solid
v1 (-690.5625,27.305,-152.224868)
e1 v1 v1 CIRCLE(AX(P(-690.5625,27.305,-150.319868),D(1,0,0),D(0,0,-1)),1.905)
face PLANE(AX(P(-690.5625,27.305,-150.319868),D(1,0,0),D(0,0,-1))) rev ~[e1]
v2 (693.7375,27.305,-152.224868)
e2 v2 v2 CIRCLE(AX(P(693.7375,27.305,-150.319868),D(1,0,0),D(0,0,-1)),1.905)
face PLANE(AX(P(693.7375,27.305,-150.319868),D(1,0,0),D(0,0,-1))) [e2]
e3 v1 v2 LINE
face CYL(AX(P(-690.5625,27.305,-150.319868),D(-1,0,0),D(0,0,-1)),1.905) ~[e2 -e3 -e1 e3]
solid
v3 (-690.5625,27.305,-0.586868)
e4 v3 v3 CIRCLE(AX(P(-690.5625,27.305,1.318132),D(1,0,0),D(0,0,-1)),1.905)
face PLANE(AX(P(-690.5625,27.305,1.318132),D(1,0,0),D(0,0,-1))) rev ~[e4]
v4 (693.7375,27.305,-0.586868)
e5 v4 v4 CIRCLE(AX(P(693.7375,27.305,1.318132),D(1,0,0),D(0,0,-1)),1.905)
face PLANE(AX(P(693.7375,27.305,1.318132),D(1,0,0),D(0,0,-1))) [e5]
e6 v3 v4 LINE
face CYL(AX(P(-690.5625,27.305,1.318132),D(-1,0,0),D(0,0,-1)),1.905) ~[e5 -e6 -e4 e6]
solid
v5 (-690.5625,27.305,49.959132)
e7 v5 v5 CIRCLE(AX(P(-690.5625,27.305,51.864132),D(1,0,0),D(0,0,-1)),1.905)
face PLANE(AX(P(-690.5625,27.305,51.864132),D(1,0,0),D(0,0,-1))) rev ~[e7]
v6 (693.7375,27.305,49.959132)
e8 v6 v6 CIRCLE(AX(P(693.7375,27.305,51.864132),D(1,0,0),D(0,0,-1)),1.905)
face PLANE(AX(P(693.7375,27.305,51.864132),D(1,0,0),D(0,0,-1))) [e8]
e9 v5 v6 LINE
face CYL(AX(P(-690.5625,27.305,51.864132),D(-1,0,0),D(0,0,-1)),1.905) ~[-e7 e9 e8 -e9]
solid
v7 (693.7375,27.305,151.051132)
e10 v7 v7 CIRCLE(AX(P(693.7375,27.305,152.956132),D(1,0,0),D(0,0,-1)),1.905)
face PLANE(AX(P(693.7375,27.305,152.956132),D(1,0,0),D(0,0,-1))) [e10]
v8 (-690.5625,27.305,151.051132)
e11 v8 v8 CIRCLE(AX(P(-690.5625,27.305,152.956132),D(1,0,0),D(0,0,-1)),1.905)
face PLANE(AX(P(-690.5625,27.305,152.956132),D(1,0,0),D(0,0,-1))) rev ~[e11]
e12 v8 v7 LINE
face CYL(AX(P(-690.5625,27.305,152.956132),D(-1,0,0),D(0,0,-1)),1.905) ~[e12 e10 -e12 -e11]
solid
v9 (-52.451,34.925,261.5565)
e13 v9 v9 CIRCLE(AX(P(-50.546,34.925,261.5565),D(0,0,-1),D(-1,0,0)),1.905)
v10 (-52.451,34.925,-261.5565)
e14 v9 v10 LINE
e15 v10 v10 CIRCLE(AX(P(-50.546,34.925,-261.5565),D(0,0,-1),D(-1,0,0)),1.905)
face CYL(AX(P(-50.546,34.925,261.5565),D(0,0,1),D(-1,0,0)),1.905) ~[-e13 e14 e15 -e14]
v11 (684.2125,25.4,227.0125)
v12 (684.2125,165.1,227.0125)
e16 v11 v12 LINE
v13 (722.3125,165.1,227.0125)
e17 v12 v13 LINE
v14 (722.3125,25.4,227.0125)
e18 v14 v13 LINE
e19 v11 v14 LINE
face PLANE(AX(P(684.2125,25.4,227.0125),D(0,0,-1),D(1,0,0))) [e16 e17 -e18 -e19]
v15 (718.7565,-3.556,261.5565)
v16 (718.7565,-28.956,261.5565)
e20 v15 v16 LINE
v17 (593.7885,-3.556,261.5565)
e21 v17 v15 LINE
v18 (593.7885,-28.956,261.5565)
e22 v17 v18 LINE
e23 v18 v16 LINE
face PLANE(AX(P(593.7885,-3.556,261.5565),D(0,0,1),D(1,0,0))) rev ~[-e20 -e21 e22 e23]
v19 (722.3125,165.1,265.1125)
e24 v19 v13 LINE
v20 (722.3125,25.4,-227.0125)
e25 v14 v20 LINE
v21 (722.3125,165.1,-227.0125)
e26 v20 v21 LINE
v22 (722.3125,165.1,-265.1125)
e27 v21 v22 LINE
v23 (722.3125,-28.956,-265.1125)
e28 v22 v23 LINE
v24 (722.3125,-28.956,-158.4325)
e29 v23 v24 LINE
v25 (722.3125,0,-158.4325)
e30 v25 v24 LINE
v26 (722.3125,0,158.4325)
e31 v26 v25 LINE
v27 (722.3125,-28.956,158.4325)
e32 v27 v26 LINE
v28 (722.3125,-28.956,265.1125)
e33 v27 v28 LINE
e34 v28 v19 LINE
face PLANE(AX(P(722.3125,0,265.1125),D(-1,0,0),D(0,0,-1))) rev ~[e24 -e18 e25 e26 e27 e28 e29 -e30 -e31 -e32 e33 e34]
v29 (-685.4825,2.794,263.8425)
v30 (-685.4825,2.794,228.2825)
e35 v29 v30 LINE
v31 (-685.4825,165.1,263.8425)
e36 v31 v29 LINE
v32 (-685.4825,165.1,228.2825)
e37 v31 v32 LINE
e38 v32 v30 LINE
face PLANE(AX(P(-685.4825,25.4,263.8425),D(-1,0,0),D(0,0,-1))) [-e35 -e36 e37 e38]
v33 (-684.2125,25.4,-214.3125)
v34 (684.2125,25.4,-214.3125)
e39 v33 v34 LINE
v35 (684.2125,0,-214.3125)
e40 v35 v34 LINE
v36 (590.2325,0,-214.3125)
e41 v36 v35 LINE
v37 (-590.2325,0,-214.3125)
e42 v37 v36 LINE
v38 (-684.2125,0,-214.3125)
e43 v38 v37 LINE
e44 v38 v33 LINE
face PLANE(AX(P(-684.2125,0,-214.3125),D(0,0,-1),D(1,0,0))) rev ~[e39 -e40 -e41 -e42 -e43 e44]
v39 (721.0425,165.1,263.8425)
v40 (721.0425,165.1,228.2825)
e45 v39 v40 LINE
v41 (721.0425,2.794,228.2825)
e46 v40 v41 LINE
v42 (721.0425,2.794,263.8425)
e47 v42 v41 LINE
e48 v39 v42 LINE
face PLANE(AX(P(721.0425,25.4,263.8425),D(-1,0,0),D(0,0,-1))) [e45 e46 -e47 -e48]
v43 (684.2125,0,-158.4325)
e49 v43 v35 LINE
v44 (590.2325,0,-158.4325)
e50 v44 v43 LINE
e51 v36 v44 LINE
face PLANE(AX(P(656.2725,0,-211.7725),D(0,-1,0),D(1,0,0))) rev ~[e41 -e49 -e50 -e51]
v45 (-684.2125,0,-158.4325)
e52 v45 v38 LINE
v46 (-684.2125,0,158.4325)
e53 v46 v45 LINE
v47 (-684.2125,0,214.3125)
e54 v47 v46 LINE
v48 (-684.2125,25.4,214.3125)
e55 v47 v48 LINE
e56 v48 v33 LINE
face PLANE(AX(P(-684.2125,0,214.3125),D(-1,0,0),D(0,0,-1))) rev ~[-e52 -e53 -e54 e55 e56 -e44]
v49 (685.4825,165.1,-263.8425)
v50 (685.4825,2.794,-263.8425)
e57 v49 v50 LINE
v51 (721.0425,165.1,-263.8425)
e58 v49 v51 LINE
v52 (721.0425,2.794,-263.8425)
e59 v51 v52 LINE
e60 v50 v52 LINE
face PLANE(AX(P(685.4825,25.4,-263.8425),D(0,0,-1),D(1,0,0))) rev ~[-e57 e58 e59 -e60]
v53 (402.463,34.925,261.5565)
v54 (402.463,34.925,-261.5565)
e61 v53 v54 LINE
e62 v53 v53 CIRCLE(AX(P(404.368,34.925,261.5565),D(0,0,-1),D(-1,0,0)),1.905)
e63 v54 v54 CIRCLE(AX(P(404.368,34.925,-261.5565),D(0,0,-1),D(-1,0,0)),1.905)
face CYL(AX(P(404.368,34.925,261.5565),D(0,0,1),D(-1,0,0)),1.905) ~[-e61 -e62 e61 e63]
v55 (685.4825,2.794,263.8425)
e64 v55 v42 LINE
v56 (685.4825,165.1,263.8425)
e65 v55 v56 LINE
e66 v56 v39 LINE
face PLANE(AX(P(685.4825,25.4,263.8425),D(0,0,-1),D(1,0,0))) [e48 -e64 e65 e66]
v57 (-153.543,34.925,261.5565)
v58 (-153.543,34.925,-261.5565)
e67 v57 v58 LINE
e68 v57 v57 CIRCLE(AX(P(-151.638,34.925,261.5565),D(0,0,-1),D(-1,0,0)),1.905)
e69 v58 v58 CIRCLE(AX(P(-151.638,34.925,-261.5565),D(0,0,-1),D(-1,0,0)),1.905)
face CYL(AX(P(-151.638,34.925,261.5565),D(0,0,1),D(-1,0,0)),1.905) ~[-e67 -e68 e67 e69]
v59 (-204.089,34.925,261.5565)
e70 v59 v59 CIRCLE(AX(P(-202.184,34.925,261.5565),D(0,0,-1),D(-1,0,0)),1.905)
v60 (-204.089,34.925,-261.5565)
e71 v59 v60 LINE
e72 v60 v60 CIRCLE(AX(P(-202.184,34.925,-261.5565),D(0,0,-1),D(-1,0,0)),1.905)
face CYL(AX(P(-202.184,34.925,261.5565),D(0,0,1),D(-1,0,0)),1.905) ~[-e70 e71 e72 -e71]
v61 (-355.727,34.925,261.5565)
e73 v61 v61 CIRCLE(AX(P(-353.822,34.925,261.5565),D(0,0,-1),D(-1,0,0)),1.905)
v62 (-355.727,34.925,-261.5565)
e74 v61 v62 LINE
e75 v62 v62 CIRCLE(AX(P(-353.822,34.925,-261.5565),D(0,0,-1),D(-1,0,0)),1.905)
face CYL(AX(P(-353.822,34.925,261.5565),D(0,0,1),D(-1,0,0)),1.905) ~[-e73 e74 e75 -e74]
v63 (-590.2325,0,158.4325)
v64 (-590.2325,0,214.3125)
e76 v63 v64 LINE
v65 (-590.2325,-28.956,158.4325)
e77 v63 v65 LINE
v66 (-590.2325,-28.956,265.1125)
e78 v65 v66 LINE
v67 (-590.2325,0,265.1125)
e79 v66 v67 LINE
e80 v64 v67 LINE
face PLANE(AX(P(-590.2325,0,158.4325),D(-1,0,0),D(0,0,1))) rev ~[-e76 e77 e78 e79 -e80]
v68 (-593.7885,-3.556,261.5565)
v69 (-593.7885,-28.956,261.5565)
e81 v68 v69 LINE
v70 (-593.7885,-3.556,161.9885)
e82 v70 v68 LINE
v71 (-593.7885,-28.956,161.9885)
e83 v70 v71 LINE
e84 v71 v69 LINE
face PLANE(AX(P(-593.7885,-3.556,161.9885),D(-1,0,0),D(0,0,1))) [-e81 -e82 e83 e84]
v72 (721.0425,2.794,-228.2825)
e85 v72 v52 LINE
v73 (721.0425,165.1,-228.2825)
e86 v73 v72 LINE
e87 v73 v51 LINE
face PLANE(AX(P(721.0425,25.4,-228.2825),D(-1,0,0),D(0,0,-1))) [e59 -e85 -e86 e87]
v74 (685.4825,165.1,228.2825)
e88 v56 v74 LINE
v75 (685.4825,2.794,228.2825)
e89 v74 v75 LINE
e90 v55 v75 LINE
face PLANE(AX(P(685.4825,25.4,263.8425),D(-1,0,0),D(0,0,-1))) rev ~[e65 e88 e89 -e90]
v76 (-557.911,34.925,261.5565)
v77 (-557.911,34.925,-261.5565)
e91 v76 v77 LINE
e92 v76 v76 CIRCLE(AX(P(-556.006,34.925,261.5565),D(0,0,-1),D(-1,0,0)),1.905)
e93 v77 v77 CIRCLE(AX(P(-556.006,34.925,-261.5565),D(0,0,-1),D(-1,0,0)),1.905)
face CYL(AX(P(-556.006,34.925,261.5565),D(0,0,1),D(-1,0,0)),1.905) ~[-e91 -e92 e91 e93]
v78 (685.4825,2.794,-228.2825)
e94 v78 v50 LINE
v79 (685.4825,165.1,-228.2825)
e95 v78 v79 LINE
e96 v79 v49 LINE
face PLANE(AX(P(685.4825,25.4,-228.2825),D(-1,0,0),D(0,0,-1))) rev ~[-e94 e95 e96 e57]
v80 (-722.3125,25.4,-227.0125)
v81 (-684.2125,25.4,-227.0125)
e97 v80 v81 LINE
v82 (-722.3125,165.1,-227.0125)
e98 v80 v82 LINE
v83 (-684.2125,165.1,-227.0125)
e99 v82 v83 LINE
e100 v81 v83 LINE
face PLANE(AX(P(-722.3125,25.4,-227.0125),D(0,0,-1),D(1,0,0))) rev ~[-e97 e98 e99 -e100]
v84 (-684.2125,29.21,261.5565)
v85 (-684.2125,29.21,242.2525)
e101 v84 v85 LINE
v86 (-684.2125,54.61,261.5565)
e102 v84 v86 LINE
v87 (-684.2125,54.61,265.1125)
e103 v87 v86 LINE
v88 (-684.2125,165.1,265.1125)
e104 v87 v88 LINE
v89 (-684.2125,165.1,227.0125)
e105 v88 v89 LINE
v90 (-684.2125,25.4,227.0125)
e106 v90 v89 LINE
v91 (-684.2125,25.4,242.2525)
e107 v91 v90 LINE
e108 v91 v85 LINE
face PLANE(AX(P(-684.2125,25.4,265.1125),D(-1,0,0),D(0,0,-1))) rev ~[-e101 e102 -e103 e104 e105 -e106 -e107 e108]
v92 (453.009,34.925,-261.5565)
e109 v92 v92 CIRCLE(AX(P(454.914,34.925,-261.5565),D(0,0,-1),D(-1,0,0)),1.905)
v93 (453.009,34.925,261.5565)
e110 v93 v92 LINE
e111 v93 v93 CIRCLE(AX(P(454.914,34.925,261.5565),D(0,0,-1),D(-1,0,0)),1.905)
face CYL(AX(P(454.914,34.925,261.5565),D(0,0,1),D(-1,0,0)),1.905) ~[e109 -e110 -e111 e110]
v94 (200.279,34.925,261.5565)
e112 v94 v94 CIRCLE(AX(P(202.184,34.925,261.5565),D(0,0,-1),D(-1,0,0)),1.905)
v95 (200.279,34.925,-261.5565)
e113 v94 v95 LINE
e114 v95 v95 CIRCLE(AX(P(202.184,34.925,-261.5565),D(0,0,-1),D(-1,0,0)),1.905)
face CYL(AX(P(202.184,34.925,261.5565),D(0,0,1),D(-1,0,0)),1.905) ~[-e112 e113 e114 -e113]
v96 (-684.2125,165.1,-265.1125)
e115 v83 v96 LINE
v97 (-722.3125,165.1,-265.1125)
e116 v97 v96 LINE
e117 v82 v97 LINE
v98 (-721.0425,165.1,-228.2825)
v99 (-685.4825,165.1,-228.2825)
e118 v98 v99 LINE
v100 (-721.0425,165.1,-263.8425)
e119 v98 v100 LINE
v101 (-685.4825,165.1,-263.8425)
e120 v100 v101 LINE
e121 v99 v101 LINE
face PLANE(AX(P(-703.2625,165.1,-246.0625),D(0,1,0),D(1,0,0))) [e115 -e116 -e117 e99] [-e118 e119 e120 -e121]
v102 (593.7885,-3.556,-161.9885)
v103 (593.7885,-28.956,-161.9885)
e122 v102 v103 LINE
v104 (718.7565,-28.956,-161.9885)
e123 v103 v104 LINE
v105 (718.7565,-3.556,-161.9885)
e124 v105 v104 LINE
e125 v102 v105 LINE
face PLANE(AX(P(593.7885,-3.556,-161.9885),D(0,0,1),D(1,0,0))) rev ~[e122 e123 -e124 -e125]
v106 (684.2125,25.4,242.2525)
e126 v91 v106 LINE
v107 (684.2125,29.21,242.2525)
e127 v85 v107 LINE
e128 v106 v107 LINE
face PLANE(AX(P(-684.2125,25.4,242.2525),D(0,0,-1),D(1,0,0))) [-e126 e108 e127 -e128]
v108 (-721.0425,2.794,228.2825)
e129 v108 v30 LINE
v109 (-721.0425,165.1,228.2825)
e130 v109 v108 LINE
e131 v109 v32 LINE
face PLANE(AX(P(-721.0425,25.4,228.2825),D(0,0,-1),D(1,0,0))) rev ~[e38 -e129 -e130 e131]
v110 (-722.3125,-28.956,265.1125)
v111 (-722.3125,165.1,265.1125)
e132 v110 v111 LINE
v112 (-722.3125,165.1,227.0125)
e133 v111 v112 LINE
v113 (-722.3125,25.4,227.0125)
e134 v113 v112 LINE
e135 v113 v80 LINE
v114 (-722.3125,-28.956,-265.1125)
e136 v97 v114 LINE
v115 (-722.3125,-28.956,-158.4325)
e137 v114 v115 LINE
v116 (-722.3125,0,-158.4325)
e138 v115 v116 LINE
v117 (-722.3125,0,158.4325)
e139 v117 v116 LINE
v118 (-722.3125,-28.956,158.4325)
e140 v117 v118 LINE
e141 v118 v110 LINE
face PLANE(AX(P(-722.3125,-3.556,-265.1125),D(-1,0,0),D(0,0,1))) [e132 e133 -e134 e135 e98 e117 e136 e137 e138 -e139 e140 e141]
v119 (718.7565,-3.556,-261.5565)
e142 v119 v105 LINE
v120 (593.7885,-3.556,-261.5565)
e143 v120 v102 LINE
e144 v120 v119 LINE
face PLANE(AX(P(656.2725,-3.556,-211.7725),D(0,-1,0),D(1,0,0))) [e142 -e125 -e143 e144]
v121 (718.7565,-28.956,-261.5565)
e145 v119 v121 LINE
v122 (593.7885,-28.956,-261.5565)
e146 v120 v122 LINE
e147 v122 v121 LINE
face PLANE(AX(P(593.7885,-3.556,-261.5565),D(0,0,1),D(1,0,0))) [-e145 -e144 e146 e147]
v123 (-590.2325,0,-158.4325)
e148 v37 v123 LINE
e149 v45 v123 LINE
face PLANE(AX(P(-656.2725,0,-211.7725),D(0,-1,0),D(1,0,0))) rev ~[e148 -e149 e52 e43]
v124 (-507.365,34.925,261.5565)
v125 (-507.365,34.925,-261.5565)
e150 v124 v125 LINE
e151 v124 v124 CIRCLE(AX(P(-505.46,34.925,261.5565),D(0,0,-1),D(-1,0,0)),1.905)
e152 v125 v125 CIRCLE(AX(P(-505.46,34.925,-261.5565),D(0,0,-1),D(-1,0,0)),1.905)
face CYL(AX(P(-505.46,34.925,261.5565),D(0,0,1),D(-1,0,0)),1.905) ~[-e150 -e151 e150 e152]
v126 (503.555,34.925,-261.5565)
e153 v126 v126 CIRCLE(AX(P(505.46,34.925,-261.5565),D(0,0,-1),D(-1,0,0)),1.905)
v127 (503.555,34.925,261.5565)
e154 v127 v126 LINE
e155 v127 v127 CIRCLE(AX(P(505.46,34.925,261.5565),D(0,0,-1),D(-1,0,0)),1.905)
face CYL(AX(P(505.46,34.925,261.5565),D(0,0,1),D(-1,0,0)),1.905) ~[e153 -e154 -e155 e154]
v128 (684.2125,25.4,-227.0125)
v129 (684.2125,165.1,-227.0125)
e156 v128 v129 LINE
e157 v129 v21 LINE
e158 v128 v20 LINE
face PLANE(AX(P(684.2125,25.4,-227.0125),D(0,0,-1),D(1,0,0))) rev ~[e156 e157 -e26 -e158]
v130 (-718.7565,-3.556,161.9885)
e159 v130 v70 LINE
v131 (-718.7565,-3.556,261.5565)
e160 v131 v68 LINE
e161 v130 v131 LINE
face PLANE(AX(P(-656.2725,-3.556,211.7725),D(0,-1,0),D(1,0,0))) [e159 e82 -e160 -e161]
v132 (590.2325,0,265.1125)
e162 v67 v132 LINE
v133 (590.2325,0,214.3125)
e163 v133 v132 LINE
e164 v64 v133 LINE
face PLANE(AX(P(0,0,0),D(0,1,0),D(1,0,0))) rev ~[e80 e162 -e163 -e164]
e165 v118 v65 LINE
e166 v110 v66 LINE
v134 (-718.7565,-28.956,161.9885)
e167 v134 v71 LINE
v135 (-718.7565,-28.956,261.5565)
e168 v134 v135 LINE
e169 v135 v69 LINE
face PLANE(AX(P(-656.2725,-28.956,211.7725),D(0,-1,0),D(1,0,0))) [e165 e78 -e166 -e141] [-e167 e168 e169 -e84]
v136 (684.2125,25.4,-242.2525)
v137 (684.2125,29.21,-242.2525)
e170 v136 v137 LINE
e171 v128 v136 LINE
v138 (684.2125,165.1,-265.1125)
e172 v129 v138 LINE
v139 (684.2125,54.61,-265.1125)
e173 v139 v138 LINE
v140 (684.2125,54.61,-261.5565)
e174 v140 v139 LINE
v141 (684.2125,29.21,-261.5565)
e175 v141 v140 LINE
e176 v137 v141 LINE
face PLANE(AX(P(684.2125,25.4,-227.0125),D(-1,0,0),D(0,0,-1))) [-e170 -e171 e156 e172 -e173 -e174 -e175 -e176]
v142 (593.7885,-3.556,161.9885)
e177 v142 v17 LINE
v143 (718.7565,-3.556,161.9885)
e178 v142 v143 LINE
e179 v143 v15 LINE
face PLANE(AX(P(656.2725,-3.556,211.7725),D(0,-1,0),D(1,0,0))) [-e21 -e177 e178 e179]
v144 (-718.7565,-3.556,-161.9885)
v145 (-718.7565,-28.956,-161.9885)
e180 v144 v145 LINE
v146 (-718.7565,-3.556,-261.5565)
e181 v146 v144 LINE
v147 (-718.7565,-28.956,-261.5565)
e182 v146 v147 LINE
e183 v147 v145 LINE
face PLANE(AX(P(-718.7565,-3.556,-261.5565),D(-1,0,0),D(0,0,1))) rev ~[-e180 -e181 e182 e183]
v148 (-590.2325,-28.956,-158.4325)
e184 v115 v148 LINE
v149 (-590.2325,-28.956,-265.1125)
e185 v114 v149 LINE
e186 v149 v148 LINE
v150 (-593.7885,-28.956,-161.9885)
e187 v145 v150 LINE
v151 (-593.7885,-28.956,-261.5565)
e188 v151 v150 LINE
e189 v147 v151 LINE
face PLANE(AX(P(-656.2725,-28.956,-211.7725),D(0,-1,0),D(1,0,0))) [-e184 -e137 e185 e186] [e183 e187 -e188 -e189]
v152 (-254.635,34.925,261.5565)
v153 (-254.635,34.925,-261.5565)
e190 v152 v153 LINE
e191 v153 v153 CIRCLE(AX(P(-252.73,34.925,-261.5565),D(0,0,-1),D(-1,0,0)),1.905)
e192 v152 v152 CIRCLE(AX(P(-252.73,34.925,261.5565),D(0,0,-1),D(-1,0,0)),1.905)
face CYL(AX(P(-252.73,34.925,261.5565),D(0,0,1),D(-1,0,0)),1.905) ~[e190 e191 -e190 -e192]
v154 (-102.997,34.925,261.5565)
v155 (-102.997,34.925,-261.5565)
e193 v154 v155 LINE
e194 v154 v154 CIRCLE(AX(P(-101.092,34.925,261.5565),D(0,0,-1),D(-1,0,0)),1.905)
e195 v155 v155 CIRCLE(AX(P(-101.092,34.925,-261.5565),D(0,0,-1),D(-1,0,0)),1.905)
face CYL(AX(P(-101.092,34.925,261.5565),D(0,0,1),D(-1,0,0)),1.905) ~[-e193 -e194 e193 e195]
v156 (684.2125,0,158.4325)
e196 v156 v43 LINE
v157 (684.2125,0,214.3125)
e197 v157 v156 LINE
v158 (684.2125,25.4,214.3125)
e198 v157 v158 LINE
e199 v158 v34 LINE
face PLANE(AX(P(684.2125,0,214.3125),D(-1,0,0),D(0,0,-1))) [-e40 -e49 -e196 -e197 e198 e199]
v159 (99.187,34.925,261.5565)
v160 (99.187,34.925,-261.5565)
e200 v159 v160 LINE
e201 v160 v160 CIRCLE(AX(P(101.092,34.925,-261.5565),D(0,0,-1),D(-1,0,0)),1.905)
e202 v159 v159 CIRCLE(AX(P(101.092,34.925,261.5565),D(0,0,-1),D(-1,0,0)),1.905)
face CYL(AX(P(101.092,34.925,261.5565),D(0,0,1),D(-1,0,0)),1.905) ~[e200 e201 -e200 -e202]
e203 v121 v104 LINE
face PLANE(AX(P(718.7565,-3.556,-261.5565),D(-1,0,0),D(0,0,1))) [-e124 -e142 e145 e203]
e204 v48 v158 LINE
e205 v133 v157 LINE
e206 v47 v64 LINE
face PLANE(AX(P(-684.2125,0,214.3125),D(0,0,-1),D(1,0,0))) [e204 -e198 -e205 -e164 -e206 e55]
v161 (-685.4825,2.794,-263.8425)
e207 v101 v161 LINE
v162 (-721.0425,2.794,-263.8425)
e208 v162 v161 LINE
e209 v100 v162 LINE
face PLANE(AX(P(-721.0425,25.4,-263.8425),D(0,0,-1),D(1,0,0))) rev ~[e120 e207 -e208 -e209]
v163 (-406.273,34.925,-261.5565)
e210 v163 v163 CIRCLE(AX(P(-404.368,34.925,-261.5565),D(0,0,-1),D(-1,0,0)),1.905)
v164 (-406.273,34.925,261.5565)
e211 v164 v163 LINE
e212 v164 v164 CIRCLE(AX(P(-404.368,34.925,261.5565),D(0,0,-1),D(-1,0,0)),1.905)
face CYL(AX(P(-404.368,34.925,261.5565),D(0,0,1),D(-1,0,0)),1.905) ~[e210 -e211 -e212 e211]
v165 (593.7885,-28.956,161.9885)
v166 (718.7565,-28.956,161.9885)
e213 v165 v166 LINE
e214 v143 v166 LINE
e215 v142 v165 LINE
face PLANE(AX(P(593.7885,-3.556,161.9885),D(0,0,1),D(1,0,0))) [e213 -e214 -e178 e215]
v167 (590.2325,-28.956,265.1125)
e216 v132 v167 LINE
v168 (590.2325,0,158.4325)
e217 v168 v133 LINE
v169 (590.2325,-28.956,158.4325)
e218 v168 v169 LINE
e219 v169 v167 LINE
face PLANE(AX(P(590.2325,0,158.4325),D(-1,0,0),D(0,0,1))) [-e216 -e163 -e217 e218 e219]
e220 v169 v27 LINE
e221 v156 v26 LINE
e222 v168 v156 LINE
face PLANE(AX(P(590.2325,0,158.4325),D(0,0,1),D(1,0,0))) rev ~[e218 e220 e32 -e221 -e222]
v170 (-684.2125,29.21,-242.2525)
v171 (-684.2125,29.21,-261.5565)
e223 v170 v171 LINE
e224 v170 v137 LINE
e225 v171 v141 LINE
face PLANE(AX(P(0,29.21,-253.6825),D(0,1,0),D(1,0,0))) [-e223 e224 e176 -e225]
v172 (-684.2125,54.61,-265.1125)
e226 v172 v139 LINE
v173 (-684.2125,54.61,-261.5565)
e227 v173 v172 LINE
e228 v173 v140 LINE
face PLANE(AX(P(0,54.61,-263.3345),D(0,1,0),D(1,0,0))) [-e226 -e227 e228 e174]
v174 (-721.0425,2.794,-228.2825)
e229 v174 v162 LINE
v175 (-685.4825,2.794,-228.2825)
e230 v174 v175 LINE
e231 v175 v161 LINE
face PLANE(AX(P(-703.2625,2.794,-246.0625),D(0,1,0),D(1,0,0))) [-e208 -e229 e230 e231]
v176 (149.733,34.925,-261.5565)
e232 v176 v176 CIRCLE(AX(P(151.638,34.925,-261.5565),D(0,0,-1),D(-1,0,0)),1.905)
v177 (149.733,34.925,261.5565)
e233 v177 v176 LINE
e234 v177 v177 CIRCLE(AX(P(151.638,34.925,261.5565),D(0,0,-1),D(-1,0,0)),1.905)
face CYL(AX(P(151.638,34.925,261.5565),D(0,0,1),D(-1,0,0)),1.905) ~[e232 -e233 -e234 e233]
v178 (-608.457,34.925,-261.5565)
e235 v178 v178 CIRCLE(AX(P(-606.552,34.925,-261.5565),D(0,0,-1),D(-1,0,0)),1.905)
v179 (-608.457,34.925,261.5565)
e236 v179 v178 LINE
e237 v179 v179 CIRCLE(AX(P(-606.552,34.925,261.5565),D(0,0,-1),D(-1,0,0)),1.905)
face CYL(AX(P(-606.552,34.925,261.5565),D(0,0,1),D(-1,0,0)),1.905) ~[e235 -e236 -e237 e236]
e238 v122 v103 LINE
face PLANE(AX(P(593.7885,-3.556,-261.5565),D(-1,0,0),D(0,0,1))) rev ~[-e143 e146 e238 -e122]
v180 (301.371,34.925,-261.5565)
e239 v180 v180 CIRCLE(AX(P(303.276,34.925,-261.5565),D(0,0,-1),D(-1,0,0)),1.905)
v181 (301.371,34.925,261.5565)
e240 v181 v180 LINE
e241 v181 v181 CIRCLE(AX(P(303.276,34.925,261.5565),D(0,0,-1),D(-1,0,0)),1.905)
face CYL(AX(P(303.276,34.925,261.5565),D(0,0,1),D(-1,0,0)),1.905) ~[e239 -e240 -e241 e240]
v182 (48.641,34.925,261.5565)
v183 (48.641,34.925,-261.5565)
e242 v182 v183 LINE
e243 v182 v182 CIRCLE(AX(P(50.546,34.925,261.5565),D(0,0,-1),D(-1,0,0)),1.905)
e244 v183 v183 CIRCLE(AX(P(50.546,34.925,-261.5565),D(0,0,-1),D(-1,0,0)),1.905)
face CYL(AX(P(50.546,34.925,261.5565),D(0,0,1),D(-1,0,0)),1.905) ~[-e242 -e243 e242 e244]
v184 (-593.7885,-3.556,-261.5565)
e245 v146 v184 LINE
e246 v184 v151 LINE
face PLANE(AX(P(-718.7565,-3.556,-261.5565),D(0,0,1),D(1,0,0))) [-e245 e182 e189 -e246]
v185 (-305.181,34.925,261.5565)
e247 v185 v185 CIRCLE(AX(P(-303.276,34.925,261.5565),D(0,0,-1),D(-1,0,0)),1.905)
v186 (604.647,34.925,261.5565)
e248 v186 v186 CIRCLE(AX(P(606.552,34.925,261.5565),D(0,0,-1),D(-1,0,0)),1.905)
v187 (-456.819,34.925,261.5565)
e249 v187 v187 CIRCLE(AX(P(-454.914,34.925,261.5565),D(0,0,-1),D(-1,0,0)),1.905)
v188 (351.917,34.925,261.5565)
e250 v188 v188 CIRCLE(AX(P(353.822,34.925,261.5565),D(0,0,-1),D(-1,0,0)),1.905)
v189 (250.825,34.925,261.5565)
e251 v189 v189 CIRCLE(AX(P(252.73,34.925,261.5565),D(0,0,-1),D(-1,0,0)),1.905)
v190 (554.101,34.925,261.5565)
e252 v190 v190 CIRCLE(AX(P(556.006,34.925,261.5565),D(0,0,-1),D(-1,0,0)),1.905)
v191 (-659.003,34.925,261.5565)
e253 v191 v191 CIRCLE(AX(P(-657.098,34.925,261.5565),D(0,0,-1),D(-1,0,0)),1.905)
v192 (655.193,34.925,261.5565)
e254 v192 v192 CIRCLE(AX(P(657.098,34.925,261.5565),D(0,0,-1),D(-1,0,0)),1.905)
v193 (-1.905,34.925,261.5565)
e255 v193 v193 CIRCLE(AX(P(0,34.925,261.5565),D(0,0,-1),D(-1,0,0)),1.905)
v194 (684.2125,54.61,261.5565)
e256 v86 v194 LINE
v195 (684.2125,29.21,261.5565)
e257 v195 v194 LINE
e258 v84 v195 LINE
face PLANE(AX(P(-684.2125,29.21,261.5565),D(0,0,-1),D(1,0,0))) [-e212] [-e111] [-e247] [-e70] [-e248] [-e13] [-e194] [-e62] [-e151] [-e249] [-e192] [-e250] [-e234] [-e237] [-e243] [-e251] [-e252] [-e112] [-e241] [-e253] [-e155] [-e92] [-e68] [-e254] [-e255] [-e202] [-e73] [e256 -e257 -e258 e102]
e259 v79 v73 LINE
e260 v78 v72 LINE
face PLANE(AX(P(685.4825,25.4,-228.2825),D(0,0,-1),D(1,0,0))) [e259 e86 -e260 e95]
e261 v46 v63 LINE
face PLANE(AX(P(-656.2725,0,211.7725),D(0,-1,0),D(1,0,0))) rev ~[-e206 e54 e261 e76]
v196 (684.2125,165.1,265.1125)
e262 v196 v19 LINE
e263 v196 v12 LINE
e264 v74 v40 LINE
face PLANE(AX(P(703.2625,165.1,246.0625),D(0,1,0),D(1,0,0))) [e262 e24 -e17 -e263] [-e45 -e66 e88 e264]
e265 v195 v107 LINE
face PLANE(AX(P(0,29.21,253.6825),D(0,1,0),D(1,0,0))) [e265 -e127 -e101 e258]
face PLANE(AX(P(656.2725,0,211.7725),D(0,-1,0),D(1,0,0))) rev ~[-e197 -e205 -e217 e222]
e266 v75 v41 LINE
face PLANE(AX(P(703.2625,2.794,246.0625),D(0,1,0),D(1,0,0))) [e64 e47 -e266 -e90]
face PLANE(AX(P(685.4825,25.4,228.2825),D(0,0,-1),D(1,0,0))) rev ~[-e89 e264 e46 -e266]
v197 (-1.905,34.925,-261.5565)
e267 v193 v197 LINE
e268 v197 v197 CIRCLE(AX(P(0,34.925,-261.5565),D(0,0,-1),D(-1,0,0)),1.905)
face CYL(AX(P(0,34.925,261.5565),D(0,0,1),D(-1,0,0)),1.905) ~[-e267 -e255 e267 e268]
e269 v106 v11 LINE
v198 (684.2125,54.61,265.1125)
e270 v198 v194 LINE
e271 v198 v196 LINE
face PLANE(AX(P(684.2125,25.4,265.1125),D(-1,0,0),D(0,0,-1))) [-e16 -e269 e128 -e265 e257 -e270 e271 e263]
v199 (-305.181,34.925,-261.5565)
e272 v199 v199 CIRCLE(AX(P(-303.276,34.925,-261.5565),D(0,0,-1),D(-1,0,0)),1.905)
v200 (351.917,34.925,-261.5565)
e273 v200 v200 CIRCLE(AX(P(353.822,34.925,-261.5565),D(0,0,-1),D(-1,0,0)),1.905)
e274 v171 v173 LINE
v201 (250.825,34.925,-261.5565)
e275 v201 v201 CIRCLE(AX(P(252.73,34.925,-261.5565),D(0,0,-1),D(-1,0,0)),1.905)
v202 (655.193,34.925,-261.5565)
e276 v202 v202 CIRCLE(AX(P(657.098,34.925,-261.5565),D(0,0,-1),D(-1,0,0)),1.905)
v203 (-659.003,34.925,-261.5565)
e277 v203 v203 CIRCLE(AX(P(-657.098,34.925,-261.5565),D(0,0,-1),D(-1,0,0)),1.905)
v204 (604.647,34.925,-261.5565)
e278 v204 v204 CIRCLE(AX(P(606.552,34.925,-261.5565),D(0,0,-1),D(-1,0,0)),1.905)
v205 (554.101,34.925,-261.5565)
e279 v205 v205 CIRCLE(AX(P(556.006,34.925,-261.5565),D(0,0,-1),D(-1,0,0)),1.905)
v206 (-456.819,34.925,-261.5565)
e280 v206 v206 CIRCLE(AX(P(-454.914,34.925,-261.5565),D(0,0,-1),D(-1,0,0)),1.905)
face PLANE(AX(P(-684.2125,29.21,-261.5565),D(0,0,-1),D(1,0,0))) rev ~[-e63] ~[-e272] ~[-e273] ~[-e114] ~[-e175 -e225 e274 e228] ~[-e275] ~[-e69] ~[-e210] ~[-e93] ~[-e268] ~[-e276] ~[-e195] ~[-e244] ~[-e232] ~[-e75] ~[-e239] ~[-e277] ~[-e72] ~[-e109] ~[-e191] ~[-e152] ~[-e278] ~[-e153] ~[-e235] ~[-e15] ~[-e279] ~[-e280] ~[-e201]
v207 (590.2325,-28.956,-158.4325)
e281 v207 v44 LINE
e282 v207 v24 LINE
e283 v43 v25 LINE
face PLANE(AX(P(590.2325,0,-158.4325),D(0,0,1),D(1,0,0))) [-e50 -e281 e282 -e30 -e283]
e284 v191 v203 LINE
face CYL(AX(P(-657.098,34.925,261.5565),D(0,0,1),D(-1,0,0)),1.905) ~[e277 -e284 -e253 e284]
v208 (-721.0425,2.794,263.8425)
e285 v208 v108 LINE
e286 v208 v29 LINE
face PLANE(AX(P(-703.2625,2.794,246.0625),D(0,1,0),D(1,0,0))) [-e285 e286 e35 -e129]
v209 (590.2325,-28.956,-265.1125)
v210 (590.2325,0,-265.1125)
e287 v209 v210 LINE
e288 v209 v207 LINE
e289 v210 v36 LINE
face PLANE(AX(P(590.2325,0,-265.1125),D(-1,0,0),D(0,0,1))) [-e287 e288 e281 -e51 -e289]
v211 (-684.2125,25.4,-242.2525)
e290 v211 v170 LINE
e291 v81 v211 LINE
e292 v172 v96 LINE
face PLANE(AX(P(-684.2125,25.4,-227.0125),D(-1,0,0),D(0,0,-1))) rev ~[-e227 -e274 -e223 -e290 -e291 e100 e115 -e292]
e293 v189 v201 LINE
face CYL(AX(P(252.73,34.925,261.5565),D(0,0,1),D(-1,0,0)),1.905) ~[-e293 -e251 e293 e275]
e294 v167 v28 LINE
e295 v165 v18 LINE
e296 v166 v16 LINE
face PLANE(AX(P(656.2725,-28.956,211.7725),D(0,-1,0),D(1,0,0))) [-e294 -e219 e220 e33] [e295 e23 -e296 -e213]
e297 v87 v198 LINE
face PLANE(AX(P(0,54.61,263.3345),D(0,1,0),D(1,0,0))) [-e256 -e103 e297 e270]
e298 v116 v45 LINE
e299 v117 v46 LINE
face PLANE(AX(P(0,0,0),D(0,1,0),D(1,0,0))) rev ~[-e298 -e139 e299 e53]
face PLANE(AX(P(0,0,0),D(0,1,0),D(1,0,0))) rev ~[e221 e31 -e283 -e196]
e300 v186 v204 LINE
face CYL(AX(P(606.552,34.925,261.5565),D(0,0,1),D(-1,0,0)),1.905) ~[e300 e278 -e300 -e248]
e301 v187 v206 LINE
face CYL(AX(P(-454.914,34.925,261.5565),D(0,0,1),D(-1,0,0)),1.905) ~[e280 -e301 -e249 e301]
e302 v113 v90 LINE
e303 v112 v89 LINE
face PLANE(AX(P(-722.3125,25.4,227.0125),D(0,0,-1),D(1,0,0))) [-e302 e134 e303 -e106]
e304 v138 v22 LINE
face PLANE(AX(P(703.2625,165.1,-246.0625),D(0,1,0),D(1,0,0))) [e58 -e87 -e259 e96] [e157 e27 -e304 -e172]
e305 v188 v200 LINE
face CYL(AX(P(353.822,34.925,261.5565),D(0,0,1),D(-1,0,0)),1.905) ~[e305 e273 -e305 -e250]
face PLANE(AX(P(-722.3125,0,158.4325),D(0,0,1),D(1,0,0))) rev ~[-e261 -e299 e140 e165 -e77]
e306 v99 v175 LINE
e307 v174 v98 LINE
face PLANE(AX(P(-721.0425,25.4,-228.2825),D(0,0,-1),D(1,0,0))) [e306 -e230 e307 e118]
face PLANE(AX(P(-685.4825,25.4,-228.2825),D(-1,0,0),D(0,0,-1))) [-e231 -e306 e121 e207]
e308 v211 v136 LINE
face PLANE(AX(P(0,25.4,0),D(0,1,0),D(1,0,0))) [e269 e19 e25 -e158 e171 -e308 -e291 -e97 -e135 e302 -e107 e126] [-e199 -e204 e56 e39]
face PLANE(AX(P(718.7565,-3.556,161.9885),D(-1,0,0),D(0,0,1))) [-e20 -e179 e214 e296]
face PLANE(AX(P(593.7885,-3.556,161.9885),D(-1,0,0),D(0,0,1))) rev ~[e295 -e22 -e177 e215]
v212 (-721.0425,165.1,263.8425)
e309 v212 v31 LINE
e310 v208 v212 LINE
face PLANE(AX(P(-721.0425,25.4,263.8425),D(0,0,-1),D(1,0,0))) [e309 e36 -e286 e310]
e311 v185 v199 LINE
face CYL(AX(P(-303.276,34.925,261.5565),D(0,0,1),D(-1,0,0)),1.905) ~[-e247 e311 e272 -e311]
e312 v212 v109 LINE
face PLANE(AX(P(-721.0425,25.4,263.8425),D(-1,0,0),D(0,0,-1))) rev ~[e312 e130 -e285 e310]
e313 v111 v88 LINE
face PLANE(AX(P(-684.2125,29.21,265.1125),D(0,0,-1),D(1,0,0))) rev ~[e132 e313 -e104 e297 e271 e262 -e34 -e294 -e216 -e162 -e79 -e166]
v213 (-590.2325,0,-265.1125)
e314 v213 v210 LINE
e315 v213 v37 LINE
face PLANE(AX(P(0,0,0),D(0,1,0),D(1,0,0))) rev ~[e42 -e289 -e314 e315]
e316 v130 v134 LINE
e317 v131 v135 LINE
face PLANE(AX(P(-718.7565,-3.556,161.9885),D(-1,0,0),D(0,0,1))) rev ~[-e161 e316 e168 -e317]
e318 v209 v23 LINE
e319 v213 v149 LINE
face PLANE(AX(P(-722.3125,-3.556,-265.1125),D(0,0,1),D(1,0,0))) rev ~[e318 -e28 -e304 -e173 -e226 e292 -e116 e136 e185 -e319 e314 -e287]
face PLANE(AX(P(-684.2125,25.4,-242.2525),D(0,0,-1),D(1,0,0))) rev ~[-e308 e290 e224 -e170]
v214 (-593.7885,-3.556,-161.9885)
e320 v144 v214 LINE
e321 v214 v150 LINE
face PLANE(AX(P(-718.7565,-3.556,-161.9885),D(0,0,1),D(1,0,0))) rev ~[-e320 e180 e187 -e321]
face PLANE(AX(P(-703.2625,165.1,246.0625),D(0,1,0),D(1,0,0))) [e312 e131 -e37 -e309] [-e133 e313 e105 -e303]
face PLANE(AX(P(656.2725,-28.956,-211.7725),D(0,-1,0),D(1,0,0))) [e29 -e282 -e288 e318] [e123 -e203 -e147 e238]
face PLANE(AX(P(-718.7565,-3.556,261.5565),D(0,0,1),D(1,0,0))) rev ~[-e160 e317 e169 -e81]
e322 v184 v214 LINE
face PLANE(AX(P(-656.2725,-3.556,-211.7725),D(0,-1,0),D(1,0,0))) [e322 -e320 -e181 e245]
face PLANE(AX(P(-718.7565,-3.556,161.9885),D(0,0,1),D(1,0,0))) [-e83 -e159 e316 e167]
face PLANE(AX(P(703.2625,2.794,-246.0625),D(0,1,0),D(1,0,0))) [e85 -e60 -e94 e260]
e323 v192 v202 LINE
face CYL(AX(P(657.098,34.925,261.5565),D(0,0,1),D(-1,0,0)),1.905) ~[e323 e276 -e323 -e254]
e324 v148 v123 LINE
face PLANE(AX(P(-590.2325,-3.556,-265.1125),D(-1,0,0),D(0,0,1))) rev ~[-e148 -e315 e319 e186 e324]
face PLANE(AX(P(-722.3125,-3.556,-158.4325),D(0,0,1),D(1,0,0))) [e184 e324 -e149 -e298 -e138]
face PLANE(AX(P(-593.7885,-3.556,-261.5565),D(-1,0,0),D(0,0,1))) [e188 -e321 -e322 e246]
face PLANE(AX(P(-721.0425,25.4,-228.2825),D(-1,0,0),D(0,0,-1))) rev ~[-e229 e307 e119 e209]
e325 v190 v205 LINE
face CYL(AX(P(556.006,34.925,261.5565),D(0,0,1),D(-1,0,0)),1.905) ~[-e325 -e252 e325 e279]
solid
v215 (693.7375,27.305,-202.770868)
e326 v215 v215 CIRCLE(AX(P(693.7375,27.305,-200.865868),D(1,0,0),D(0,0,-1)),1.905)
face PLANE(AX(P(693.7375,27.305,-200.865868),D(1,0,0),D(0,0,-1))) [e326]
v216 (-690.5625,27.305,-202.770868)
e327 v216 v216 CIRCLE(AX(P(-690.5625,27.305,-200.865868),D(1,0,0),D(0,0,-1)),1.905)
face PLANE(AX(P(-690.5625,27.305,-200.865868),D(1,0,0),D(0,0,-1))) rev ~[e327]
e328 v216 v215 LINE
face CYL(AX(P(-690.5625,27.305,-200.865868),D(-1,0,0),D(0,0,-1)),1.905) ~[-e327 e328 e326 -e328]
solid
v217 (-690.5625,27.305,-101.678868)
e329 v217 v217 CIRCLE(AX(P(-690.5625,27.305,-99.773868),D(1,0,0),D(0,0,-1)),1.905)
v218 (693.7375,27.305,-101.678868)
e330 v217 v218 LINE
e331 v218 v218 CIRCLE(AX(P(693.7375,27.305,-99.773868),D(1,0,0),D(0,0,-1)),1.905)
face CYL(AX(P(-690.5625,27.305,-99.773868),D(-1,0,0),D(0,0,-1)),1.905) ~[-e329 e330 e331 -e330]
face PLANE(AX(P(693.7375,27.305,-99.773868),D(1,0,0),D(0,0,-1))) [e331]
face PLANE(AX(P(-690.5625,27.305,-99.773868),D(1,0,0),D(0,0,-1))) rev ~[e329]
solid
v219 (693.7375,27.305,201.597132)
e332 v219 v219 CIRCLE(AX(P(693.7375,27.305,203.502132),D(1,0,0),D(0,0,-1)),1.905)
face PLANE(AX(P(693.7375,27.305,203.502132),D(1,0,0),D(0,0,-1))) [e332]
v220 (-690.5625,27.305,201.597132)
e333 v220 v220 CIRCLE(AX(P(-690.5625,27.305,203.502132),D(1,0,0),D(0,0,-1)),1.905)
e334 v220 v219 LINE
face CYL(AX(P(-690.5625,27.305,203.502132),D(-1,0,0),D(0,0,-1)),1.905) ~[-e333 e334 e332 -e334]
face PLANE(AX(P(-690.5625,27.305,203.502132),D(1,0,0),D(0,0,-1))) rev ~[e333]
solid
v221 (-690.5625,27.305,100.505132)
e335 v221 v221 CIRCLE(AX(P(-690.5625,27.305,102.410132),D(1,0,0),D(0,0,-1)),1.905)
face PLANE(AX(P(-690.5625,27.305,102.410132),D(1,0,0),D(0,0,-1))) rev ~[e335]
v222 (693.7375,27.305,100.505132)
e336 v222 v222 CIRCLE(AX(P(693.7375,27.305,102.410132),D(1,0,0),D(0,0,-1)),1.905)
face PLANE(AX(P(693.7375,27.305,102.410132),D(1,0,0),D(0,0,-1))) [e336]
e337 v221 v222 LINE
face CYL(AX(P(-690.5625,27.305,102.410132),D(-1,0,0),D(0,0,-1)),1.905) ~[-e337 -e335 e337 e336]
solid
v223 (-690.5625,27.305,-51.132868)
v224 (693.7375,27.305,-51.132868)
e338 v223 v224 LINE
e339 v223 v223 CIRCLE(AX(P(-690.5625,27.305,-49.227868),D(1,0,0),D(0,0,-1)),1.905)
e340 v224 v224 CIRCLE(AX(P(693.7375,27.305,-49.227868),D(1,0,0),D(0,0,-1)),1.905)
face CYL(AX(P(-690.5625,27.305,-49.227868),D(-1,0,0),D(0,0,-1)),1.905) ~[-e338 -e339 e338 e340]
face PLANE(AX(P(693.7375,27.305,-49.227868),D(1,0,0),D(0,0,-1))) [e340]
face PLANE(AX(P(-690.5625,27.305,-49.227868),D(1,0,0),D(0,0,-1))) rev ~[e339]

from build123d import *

# Parameters (mm, degrees)
SKETCH1_W             = 1444.625
SKETCH1_H             = 530.225
SKETCH1_W_2           = 1368.425
SKETCH1_H_2           = 428.625
BOSS_EXTRUDE1_DEPTH   = 25.4
SKETCH2_W             = 38.1
SKETCH2_H             = 38.1
SKETCH2_W_2           = 35.56
SKETCH2_H_2           = 35.56
BOSS_EXTRUDE2_DEPTH   = 139.7
SKETCH3_W             = 1368.425
SKETCH3_H             = 22.86
BOSS_EXTRUDE3_DEPTH   = 3.81
SKETCH4_R             = 1.905
BOSS_EXTRUDE4_DEPTH   = 1384.3
BOSS_EXTRUDE4_2_DEPTH = 1384.3
BOSS_EXTRUDE4_3_DEPTH = 1384.3
BOSS_EXTRUDE4_4_DEPTH = 1384.3
BOSS_EXTRUDE4_5_DEPTH = 1384.3
BOSS_EXTRUDE4_6_DEPTH = 1384.3
BOSS_EXTRUDE4_7_DEPTH = 1384.3
BOSS_EXTRUDE4_8_DEPTH = 1384.3
BOSS_EXTRUDE4_9_DEPTH = 1384.3
SKETCH5_W             = 1368.425
SKETCH5_H             = 3.556
BOSS_EXTRUDE5_DEPTH   = 25.4
SKETCH6_R             = 1.905
BOSS_EXTRUDE6_DEPTH   = 523.113
SKETCH7_W             = 132.08
SKETCH7_H             = 106.68
BOSS_EXTRUDE7_DEPTH   = 3.556
SKETCH8_W             = 132.08
SKETCH8_H             = 106.68
SKETCH8_W_2           = 124.968
SKETCH8_H_2           = 99.568
BOSS_EXTRUDE8_DEPTH   = 25.4
SKETCH9_W             = 35.56
SKETCH9_H             = 35.56
CUT_EXTRUDE1_DEPTH    = 22.606


with BuildPart() as part:
    # Sketch1 → Boss-Extrude1 (new body)
    with BuildSketch(Plane(origin=(0, 0, 0), x_dir=(1, 0, 0), z_dir=(0, 1, 0))):
        Rectangle(SKETCH1_W, SKETCH1_H)
        Rectangle(SKETCH1_W_2, SKETCH1_H_2, mode=Mode.SUBTRACT)
    extrude(amount=BOSS_EXTRUDE1_DEPTH)

    # Sketch2 → Boss-Extrude2 (add)
    with BuildSketch(Plane(origin=(0, 25.4, 0), x_dir=(1, 0, 0), z_dir=(0, 1, 0))):
        with Locations((-703.2625, 246.0625)):
            Rectangle(SKETCH2_W, SKETCH2_H)
        with Locations((-703.2625, 246.0625)):
            Rectangle(SKETCH2_W_2, SKETCH2_H_2, mode=Mode.SUBTRACT)
        with Locations((-703.2625, -246.0625)):
            Rectangle(SKETCH2_W, SKETCH2_H)
        with Locations((-703.2625, -246.0625)):
            Rectangle(SKETCH2_W_2, SKETCH2_H_2, mode=Mode.SUBTRACT)
        with Locations((703.2625, -246.0625)):
            Rectangle(SKETCH2_W, SKETCH2_H)
        with Locations((703.2625, -246.0625)):
            Rectangle(SKETCH2_W_2, SKETCH2_H_2, mode=Mode.SUBTRACT)
        with Locations((703.2625, 246.0625)):
            Rectangle(SKETCH2_W, SKETCH2_H)
        with Locations((703.2625, 246.0625)):
            Rectangle(SKETCH2_W_2, SKETCH2_H_2, mode=Mode.SUBTRACT)
    extrude(amount=BOSS_EXTRUDE2_DEPTH)

    # Sketch3 → Boss-Extrude3 (add)
    with BuildSketch(Plane(origin=(0, 25.4, 0), x_dir=(1, 0, 0), z_dir=(0, 1, 0))):
        with Locations((0, 253.6825)):
            Rectangle(SKETCH3_W, SKETCH3_H)
        with Locations((0, -253.6825)):
            Rectangle(SKETCH3_W, SKETCH3_H)
    extrude(amount=BOSS_EXTRUDE3_DEPTH)

    # Sketch5 → Boss-Extrude5 (add)
    with BuildSketch(Plane(origin=(0, 29.21, 0), x_dir=(1, 0, 0), z_dir=(0, 1, 0))):
        with Locations((0, -263.3345)):
            Rectangle(SKETCH5_W, SKETCH5_H)
        with Locations((0, 263.3345)):
            Rectangle(SKETCH5_W, SKETCH5_H)
    extrude(amount=BOSS_EXTRUDE5_DEPTH)

    # Sketch6 → Boss-Extrude6 (add)
    with BuildSketch(Plane(origin=(0, 0, 261.5565), x_dir=(-1, 0, 0), z_dir=(0, 0, -1))):
        with Locations((0, 34.925)):
            Circle(SKETCH6_R)
        with Locations((50.546, 34.925)):
            Circle(SKETCH6_R)
        with Locations((101.092, 34.925)):
            Circle(SKETCH6_R)
        with Locations((151.638, 34.925)):
            Circle(SKETCH6_R)
        with Locations((202.184, 34.925)):
            Circle(SKETCH6_R)
        with Locations((252.73, 34.925)):
            Circle(SKETCH6_R)
        with Locations((303.276, 34.925)):
            Circle(SKETCH6_R)
        with Locations((353.822, 34.925)):
            Circle(SKETCH6_R)
        with Locations((404.368, 34.925)):
            Circle(SKETCH6_R)
        with Locations((454.914, 34.925)):
            Circle(SKETCH6_R)
        with Locations((505.46, 34.925)):
            Circle(SKETCH6_R)
        with Locations((556.006, 34.925)):
            Circle(SKETCH6_R)
        with Locations((606.552, 34.925)):
            Circle(SKETCH6_R)
        with Locations((657.098, 34.925)):
            Circle(SKETCH6_R)
        with Locations((-50.546, 34.925)):
            Circle(SKETCH6_R)
        with Locations((-101.092, 34.925)):
            Circle(SKETCH6_R)
        with Locations((-151.638, 34.925)):
            Circle(SKETCH6_R)
        with Locations((-202.184, 34.925)):
            Circle(SKETCH6_R)
        with Locations((-252.73, 34.925)):
            Circle(SKETCH6_R)
        with Locations((-303.276, 34.925)):
            Circle(SKETCH6_R)
        with Locations((-353.822, 34.925)):
            Circle(SKETCH6_R)
        with Locations((-404.368, 34.925)):
            Circle(SKETCH6_R)
        with Locations((-454.914, 34.925)):
            Circle(SKETCH6_R)
        with Locations((-505.46, 34.925)):
            Circle(SKETCH6_R)
        with Locations((-556.006, 34.925)):
            Circle(SKETCH6_R)
        with Locations((-606.552, 34.925)):
            Circle(SKETCH6_R)
        with Locations((-657.098, 34.925)):
            Circle(SKETCH6_R)
    extrude(amount=BOSS_EXTRUDE6_DEPTH)

    # Sketch7 → Boss-Extrude7 (add)
    with BuildSketch(Plane.XZ):
        with Locations((-656.2725, -211.7725)):
            Rectangle(SKETCH7_W, SKETCH7_H)
        with Locations((-656.2725, 211.7725)):
            Rectangle(SKETCH7_W, SKETCH7_H)
        with Locations((656.2725, -211.7725)):
            Rectangle(SKETCH7_W, SKETCH7_H)
        with Locations((656.2725, 211.7725)):
            Rectangle(SKETCH7_W, SKETCH7_H)
    extrude(amount=BOSS_EXTRUDE7_DEPTH)

    # Sketch8 → Boss-Extrude8 (add)
    with BuildSketch(Plane.XZ.offset(3.556)):
        with Locations((-656.2725, -211.7725)):
            Rectangle(SKETCH8_W, SKETCH8_H)
        with Locations((-656.2725, -211.7725)):
            Rectangle(SKETCH8_W_2, SKETCH8_H_2, mode=Mode.SUBTRACT)
        with Locations((-656.2725, 211.7725)):
            Rectangle(SKETCH8_W, SKETCH8_H)
        with Locations((-656.2725, 211.7725)):
            Rectangle(SKETCH8_W_2, SKETCH8_H_2, mode=Mode.SUBTRACT)
        with Locations((656.2725, 211.7725)):
            Rectangle(SKETCH8_W, SKETCH8_H)
        with Locations((656.2725, 211.7725)):
            Rectangle(SKETCH8_W_2, SKETCH8_H_2, mode=Mode.SUBTRACT)
        with Locations((656.2725, -211.7725)):
            Rectangle(SKETCH8_W, SKETCH8_H)
        with Locations((656.2725, -211.7725)):
            Rectangle(SKETCH8_W_2, SKETCH8_H_2, mode=Mode.SUBTRACT)
    extrude(amount=BOSS_EXTRUDE8_DEPTH)

    # Sketch9 → Cut-Extrude1 (cut)
    with BuildSketch(Plane(origin=(0, 25.4, 0), x_dir=(1, 0, 0), z_dir=(0, 1, 0))):
        with Locations((-703.2625, 246.0625)):
            Rectangle(SKETCH9_W, SKETCH9_H)
        with Locations((-703.2625, -246.0625)):
            Rectangle(SKETCH9_W, SKETCH9_H)
        with Locations((703.2625, -246.0625)):
            Rectangle(SKETCH9_W, SKETCH9_H)
        with Locations((703.2625, 246.0625)):
            Rectangle(SKETCH9_W, SKETCH9_H)
    extrude(amount=-CUT_EXTRUDE1_DEPTH, mode=Mode.SUBTRACT)


with BuildPart() as body_2:
    # Sketch4 → Boss-Extrude4 (new body)
    with BuildSketch(Plane(origin=(-690.5625, 0, 0), x_dir=(0, 0, -1), z_dir=(1, 0, 0))):
        with Locations((-1.318131718, 27.305)):
            Circle(SKETCH4_R)
    extrude(amount=BOSS_EXTRUDE4_DEPTH)


with BuildPart() as body_3:
    # Sketch4 → Boss-Extrude4 2 (new body)
    with BuildSketch(Plane(origin=(-690.5625, 0, 0), x_dir=(0, 0, -1), z_dir=(1, 0, 0))):
        with Locations((49.227868282, 27.305)):
            Circle(SKETCH4_R)
    extrude(amount=BOSS_EXTRUDE4_2_DEPTH)


with BuildPart() as body_4:
    # Sketch4 → Boss-Extrude4 3 (new body)
    with BuildSketch(Plane(origin=(-690.5625, 0, 0), x_dir=(0, 0, -1), z_dir=(1, 0, 0))):
        with Locations((99.773868282, 27.305)):
            Circle(SKETCH4_R)
    extrude(amount=BOSS_EXTRUDE4_3_DEPTH)


with BuildPart() as body_5:
    # Sketch4 → Boss-Extrude4 4 (new body)
    with BuildSketch(Plane(origin=(-690.5625, 0, 0), x_dir=(0, 0, -1), z_dir=(1, 0, 0))):
        with Locations((150.319868282, 27.305)):
            Circle(SKETCH4_R)
    extrude(amount=BOSS_EXTRUDE4_4_DEPTH)


with BuildPart() as body_6:
    # Sketch4 → Boss-Extrude4 5 (new body)
    with BuildSketch(Plane(origin=(-690.5625, 0, 0), x_dir=(0, 0, -1), z_dir=(1, 0, 0))):
        with Locations((200.865868282, 27.305)):
            Circle(SKETCH4_R)
    extrude(amount=BOSS_EXTRUDE4_5_DEPTH)


with BuildPart() as body_7:
    # Sketch4 → Boss-Extrude4 6 (new body)
    with BuildSketch(Plane(origin=(-690.5625, 0, 0), x_dir=(0, 0, -1), z_dir=(1, 0, 0))):
        with Locations((-51.864131718, 27.305)):
            Circle(SKETCH4_R)
    extrude(amount=BOSS_EXTRUDE4_6_DEPTH)


with BuildPart() as body_8:
    # Sketch4 → Boss-Extrude4 7 (new body)
    with BuildSketch(Plane(origin=(-690.5625, 0, 0), x_dir=(0, 0, -1), z_dir=(1, 0, 0))):
        with Locations((-102.410131718, 27.305)):
            Circle(SKETCH4_R)
    extrude(amount=BOSS_EXTRUDE4_7_DEPTH)


with BuildPart() as body_9:
    # Sketch4 → Boss-Extrude4 8 (new body)
    with BuildSketch(Plane(origin=(-690.5625, 0, 0), x_dir=(0, 0, -1), z_dir=(1, 0, 0))):
        with Locations((-152.956131718, 27.305)):
            Circle(SKETCH4_R)
    extrude(amount=BOSS_EXTRUDE4_8_DEPTH)


with BuildPart() as body_10:
    # Sketch4 → Boss-Extrude4 9 (new body)
    with BuildSketch(Plane(origin=(-690.5625, 0, 0), x_dir=(0, 0, -1), z_dir=(1, 0, 0))):
        with Locations((-203.502131718, 27.305)):
            Circle(SKETCH4_R)
    extrude(amount=BOSS_EXTRUDE4_9_DEPTH)


solid = Compound([part.part, body_2.part, body_3.part, body_4.part, body_5.part, body_6.part, body_7.part, body_8.part, body_9.part, body_10.part])
